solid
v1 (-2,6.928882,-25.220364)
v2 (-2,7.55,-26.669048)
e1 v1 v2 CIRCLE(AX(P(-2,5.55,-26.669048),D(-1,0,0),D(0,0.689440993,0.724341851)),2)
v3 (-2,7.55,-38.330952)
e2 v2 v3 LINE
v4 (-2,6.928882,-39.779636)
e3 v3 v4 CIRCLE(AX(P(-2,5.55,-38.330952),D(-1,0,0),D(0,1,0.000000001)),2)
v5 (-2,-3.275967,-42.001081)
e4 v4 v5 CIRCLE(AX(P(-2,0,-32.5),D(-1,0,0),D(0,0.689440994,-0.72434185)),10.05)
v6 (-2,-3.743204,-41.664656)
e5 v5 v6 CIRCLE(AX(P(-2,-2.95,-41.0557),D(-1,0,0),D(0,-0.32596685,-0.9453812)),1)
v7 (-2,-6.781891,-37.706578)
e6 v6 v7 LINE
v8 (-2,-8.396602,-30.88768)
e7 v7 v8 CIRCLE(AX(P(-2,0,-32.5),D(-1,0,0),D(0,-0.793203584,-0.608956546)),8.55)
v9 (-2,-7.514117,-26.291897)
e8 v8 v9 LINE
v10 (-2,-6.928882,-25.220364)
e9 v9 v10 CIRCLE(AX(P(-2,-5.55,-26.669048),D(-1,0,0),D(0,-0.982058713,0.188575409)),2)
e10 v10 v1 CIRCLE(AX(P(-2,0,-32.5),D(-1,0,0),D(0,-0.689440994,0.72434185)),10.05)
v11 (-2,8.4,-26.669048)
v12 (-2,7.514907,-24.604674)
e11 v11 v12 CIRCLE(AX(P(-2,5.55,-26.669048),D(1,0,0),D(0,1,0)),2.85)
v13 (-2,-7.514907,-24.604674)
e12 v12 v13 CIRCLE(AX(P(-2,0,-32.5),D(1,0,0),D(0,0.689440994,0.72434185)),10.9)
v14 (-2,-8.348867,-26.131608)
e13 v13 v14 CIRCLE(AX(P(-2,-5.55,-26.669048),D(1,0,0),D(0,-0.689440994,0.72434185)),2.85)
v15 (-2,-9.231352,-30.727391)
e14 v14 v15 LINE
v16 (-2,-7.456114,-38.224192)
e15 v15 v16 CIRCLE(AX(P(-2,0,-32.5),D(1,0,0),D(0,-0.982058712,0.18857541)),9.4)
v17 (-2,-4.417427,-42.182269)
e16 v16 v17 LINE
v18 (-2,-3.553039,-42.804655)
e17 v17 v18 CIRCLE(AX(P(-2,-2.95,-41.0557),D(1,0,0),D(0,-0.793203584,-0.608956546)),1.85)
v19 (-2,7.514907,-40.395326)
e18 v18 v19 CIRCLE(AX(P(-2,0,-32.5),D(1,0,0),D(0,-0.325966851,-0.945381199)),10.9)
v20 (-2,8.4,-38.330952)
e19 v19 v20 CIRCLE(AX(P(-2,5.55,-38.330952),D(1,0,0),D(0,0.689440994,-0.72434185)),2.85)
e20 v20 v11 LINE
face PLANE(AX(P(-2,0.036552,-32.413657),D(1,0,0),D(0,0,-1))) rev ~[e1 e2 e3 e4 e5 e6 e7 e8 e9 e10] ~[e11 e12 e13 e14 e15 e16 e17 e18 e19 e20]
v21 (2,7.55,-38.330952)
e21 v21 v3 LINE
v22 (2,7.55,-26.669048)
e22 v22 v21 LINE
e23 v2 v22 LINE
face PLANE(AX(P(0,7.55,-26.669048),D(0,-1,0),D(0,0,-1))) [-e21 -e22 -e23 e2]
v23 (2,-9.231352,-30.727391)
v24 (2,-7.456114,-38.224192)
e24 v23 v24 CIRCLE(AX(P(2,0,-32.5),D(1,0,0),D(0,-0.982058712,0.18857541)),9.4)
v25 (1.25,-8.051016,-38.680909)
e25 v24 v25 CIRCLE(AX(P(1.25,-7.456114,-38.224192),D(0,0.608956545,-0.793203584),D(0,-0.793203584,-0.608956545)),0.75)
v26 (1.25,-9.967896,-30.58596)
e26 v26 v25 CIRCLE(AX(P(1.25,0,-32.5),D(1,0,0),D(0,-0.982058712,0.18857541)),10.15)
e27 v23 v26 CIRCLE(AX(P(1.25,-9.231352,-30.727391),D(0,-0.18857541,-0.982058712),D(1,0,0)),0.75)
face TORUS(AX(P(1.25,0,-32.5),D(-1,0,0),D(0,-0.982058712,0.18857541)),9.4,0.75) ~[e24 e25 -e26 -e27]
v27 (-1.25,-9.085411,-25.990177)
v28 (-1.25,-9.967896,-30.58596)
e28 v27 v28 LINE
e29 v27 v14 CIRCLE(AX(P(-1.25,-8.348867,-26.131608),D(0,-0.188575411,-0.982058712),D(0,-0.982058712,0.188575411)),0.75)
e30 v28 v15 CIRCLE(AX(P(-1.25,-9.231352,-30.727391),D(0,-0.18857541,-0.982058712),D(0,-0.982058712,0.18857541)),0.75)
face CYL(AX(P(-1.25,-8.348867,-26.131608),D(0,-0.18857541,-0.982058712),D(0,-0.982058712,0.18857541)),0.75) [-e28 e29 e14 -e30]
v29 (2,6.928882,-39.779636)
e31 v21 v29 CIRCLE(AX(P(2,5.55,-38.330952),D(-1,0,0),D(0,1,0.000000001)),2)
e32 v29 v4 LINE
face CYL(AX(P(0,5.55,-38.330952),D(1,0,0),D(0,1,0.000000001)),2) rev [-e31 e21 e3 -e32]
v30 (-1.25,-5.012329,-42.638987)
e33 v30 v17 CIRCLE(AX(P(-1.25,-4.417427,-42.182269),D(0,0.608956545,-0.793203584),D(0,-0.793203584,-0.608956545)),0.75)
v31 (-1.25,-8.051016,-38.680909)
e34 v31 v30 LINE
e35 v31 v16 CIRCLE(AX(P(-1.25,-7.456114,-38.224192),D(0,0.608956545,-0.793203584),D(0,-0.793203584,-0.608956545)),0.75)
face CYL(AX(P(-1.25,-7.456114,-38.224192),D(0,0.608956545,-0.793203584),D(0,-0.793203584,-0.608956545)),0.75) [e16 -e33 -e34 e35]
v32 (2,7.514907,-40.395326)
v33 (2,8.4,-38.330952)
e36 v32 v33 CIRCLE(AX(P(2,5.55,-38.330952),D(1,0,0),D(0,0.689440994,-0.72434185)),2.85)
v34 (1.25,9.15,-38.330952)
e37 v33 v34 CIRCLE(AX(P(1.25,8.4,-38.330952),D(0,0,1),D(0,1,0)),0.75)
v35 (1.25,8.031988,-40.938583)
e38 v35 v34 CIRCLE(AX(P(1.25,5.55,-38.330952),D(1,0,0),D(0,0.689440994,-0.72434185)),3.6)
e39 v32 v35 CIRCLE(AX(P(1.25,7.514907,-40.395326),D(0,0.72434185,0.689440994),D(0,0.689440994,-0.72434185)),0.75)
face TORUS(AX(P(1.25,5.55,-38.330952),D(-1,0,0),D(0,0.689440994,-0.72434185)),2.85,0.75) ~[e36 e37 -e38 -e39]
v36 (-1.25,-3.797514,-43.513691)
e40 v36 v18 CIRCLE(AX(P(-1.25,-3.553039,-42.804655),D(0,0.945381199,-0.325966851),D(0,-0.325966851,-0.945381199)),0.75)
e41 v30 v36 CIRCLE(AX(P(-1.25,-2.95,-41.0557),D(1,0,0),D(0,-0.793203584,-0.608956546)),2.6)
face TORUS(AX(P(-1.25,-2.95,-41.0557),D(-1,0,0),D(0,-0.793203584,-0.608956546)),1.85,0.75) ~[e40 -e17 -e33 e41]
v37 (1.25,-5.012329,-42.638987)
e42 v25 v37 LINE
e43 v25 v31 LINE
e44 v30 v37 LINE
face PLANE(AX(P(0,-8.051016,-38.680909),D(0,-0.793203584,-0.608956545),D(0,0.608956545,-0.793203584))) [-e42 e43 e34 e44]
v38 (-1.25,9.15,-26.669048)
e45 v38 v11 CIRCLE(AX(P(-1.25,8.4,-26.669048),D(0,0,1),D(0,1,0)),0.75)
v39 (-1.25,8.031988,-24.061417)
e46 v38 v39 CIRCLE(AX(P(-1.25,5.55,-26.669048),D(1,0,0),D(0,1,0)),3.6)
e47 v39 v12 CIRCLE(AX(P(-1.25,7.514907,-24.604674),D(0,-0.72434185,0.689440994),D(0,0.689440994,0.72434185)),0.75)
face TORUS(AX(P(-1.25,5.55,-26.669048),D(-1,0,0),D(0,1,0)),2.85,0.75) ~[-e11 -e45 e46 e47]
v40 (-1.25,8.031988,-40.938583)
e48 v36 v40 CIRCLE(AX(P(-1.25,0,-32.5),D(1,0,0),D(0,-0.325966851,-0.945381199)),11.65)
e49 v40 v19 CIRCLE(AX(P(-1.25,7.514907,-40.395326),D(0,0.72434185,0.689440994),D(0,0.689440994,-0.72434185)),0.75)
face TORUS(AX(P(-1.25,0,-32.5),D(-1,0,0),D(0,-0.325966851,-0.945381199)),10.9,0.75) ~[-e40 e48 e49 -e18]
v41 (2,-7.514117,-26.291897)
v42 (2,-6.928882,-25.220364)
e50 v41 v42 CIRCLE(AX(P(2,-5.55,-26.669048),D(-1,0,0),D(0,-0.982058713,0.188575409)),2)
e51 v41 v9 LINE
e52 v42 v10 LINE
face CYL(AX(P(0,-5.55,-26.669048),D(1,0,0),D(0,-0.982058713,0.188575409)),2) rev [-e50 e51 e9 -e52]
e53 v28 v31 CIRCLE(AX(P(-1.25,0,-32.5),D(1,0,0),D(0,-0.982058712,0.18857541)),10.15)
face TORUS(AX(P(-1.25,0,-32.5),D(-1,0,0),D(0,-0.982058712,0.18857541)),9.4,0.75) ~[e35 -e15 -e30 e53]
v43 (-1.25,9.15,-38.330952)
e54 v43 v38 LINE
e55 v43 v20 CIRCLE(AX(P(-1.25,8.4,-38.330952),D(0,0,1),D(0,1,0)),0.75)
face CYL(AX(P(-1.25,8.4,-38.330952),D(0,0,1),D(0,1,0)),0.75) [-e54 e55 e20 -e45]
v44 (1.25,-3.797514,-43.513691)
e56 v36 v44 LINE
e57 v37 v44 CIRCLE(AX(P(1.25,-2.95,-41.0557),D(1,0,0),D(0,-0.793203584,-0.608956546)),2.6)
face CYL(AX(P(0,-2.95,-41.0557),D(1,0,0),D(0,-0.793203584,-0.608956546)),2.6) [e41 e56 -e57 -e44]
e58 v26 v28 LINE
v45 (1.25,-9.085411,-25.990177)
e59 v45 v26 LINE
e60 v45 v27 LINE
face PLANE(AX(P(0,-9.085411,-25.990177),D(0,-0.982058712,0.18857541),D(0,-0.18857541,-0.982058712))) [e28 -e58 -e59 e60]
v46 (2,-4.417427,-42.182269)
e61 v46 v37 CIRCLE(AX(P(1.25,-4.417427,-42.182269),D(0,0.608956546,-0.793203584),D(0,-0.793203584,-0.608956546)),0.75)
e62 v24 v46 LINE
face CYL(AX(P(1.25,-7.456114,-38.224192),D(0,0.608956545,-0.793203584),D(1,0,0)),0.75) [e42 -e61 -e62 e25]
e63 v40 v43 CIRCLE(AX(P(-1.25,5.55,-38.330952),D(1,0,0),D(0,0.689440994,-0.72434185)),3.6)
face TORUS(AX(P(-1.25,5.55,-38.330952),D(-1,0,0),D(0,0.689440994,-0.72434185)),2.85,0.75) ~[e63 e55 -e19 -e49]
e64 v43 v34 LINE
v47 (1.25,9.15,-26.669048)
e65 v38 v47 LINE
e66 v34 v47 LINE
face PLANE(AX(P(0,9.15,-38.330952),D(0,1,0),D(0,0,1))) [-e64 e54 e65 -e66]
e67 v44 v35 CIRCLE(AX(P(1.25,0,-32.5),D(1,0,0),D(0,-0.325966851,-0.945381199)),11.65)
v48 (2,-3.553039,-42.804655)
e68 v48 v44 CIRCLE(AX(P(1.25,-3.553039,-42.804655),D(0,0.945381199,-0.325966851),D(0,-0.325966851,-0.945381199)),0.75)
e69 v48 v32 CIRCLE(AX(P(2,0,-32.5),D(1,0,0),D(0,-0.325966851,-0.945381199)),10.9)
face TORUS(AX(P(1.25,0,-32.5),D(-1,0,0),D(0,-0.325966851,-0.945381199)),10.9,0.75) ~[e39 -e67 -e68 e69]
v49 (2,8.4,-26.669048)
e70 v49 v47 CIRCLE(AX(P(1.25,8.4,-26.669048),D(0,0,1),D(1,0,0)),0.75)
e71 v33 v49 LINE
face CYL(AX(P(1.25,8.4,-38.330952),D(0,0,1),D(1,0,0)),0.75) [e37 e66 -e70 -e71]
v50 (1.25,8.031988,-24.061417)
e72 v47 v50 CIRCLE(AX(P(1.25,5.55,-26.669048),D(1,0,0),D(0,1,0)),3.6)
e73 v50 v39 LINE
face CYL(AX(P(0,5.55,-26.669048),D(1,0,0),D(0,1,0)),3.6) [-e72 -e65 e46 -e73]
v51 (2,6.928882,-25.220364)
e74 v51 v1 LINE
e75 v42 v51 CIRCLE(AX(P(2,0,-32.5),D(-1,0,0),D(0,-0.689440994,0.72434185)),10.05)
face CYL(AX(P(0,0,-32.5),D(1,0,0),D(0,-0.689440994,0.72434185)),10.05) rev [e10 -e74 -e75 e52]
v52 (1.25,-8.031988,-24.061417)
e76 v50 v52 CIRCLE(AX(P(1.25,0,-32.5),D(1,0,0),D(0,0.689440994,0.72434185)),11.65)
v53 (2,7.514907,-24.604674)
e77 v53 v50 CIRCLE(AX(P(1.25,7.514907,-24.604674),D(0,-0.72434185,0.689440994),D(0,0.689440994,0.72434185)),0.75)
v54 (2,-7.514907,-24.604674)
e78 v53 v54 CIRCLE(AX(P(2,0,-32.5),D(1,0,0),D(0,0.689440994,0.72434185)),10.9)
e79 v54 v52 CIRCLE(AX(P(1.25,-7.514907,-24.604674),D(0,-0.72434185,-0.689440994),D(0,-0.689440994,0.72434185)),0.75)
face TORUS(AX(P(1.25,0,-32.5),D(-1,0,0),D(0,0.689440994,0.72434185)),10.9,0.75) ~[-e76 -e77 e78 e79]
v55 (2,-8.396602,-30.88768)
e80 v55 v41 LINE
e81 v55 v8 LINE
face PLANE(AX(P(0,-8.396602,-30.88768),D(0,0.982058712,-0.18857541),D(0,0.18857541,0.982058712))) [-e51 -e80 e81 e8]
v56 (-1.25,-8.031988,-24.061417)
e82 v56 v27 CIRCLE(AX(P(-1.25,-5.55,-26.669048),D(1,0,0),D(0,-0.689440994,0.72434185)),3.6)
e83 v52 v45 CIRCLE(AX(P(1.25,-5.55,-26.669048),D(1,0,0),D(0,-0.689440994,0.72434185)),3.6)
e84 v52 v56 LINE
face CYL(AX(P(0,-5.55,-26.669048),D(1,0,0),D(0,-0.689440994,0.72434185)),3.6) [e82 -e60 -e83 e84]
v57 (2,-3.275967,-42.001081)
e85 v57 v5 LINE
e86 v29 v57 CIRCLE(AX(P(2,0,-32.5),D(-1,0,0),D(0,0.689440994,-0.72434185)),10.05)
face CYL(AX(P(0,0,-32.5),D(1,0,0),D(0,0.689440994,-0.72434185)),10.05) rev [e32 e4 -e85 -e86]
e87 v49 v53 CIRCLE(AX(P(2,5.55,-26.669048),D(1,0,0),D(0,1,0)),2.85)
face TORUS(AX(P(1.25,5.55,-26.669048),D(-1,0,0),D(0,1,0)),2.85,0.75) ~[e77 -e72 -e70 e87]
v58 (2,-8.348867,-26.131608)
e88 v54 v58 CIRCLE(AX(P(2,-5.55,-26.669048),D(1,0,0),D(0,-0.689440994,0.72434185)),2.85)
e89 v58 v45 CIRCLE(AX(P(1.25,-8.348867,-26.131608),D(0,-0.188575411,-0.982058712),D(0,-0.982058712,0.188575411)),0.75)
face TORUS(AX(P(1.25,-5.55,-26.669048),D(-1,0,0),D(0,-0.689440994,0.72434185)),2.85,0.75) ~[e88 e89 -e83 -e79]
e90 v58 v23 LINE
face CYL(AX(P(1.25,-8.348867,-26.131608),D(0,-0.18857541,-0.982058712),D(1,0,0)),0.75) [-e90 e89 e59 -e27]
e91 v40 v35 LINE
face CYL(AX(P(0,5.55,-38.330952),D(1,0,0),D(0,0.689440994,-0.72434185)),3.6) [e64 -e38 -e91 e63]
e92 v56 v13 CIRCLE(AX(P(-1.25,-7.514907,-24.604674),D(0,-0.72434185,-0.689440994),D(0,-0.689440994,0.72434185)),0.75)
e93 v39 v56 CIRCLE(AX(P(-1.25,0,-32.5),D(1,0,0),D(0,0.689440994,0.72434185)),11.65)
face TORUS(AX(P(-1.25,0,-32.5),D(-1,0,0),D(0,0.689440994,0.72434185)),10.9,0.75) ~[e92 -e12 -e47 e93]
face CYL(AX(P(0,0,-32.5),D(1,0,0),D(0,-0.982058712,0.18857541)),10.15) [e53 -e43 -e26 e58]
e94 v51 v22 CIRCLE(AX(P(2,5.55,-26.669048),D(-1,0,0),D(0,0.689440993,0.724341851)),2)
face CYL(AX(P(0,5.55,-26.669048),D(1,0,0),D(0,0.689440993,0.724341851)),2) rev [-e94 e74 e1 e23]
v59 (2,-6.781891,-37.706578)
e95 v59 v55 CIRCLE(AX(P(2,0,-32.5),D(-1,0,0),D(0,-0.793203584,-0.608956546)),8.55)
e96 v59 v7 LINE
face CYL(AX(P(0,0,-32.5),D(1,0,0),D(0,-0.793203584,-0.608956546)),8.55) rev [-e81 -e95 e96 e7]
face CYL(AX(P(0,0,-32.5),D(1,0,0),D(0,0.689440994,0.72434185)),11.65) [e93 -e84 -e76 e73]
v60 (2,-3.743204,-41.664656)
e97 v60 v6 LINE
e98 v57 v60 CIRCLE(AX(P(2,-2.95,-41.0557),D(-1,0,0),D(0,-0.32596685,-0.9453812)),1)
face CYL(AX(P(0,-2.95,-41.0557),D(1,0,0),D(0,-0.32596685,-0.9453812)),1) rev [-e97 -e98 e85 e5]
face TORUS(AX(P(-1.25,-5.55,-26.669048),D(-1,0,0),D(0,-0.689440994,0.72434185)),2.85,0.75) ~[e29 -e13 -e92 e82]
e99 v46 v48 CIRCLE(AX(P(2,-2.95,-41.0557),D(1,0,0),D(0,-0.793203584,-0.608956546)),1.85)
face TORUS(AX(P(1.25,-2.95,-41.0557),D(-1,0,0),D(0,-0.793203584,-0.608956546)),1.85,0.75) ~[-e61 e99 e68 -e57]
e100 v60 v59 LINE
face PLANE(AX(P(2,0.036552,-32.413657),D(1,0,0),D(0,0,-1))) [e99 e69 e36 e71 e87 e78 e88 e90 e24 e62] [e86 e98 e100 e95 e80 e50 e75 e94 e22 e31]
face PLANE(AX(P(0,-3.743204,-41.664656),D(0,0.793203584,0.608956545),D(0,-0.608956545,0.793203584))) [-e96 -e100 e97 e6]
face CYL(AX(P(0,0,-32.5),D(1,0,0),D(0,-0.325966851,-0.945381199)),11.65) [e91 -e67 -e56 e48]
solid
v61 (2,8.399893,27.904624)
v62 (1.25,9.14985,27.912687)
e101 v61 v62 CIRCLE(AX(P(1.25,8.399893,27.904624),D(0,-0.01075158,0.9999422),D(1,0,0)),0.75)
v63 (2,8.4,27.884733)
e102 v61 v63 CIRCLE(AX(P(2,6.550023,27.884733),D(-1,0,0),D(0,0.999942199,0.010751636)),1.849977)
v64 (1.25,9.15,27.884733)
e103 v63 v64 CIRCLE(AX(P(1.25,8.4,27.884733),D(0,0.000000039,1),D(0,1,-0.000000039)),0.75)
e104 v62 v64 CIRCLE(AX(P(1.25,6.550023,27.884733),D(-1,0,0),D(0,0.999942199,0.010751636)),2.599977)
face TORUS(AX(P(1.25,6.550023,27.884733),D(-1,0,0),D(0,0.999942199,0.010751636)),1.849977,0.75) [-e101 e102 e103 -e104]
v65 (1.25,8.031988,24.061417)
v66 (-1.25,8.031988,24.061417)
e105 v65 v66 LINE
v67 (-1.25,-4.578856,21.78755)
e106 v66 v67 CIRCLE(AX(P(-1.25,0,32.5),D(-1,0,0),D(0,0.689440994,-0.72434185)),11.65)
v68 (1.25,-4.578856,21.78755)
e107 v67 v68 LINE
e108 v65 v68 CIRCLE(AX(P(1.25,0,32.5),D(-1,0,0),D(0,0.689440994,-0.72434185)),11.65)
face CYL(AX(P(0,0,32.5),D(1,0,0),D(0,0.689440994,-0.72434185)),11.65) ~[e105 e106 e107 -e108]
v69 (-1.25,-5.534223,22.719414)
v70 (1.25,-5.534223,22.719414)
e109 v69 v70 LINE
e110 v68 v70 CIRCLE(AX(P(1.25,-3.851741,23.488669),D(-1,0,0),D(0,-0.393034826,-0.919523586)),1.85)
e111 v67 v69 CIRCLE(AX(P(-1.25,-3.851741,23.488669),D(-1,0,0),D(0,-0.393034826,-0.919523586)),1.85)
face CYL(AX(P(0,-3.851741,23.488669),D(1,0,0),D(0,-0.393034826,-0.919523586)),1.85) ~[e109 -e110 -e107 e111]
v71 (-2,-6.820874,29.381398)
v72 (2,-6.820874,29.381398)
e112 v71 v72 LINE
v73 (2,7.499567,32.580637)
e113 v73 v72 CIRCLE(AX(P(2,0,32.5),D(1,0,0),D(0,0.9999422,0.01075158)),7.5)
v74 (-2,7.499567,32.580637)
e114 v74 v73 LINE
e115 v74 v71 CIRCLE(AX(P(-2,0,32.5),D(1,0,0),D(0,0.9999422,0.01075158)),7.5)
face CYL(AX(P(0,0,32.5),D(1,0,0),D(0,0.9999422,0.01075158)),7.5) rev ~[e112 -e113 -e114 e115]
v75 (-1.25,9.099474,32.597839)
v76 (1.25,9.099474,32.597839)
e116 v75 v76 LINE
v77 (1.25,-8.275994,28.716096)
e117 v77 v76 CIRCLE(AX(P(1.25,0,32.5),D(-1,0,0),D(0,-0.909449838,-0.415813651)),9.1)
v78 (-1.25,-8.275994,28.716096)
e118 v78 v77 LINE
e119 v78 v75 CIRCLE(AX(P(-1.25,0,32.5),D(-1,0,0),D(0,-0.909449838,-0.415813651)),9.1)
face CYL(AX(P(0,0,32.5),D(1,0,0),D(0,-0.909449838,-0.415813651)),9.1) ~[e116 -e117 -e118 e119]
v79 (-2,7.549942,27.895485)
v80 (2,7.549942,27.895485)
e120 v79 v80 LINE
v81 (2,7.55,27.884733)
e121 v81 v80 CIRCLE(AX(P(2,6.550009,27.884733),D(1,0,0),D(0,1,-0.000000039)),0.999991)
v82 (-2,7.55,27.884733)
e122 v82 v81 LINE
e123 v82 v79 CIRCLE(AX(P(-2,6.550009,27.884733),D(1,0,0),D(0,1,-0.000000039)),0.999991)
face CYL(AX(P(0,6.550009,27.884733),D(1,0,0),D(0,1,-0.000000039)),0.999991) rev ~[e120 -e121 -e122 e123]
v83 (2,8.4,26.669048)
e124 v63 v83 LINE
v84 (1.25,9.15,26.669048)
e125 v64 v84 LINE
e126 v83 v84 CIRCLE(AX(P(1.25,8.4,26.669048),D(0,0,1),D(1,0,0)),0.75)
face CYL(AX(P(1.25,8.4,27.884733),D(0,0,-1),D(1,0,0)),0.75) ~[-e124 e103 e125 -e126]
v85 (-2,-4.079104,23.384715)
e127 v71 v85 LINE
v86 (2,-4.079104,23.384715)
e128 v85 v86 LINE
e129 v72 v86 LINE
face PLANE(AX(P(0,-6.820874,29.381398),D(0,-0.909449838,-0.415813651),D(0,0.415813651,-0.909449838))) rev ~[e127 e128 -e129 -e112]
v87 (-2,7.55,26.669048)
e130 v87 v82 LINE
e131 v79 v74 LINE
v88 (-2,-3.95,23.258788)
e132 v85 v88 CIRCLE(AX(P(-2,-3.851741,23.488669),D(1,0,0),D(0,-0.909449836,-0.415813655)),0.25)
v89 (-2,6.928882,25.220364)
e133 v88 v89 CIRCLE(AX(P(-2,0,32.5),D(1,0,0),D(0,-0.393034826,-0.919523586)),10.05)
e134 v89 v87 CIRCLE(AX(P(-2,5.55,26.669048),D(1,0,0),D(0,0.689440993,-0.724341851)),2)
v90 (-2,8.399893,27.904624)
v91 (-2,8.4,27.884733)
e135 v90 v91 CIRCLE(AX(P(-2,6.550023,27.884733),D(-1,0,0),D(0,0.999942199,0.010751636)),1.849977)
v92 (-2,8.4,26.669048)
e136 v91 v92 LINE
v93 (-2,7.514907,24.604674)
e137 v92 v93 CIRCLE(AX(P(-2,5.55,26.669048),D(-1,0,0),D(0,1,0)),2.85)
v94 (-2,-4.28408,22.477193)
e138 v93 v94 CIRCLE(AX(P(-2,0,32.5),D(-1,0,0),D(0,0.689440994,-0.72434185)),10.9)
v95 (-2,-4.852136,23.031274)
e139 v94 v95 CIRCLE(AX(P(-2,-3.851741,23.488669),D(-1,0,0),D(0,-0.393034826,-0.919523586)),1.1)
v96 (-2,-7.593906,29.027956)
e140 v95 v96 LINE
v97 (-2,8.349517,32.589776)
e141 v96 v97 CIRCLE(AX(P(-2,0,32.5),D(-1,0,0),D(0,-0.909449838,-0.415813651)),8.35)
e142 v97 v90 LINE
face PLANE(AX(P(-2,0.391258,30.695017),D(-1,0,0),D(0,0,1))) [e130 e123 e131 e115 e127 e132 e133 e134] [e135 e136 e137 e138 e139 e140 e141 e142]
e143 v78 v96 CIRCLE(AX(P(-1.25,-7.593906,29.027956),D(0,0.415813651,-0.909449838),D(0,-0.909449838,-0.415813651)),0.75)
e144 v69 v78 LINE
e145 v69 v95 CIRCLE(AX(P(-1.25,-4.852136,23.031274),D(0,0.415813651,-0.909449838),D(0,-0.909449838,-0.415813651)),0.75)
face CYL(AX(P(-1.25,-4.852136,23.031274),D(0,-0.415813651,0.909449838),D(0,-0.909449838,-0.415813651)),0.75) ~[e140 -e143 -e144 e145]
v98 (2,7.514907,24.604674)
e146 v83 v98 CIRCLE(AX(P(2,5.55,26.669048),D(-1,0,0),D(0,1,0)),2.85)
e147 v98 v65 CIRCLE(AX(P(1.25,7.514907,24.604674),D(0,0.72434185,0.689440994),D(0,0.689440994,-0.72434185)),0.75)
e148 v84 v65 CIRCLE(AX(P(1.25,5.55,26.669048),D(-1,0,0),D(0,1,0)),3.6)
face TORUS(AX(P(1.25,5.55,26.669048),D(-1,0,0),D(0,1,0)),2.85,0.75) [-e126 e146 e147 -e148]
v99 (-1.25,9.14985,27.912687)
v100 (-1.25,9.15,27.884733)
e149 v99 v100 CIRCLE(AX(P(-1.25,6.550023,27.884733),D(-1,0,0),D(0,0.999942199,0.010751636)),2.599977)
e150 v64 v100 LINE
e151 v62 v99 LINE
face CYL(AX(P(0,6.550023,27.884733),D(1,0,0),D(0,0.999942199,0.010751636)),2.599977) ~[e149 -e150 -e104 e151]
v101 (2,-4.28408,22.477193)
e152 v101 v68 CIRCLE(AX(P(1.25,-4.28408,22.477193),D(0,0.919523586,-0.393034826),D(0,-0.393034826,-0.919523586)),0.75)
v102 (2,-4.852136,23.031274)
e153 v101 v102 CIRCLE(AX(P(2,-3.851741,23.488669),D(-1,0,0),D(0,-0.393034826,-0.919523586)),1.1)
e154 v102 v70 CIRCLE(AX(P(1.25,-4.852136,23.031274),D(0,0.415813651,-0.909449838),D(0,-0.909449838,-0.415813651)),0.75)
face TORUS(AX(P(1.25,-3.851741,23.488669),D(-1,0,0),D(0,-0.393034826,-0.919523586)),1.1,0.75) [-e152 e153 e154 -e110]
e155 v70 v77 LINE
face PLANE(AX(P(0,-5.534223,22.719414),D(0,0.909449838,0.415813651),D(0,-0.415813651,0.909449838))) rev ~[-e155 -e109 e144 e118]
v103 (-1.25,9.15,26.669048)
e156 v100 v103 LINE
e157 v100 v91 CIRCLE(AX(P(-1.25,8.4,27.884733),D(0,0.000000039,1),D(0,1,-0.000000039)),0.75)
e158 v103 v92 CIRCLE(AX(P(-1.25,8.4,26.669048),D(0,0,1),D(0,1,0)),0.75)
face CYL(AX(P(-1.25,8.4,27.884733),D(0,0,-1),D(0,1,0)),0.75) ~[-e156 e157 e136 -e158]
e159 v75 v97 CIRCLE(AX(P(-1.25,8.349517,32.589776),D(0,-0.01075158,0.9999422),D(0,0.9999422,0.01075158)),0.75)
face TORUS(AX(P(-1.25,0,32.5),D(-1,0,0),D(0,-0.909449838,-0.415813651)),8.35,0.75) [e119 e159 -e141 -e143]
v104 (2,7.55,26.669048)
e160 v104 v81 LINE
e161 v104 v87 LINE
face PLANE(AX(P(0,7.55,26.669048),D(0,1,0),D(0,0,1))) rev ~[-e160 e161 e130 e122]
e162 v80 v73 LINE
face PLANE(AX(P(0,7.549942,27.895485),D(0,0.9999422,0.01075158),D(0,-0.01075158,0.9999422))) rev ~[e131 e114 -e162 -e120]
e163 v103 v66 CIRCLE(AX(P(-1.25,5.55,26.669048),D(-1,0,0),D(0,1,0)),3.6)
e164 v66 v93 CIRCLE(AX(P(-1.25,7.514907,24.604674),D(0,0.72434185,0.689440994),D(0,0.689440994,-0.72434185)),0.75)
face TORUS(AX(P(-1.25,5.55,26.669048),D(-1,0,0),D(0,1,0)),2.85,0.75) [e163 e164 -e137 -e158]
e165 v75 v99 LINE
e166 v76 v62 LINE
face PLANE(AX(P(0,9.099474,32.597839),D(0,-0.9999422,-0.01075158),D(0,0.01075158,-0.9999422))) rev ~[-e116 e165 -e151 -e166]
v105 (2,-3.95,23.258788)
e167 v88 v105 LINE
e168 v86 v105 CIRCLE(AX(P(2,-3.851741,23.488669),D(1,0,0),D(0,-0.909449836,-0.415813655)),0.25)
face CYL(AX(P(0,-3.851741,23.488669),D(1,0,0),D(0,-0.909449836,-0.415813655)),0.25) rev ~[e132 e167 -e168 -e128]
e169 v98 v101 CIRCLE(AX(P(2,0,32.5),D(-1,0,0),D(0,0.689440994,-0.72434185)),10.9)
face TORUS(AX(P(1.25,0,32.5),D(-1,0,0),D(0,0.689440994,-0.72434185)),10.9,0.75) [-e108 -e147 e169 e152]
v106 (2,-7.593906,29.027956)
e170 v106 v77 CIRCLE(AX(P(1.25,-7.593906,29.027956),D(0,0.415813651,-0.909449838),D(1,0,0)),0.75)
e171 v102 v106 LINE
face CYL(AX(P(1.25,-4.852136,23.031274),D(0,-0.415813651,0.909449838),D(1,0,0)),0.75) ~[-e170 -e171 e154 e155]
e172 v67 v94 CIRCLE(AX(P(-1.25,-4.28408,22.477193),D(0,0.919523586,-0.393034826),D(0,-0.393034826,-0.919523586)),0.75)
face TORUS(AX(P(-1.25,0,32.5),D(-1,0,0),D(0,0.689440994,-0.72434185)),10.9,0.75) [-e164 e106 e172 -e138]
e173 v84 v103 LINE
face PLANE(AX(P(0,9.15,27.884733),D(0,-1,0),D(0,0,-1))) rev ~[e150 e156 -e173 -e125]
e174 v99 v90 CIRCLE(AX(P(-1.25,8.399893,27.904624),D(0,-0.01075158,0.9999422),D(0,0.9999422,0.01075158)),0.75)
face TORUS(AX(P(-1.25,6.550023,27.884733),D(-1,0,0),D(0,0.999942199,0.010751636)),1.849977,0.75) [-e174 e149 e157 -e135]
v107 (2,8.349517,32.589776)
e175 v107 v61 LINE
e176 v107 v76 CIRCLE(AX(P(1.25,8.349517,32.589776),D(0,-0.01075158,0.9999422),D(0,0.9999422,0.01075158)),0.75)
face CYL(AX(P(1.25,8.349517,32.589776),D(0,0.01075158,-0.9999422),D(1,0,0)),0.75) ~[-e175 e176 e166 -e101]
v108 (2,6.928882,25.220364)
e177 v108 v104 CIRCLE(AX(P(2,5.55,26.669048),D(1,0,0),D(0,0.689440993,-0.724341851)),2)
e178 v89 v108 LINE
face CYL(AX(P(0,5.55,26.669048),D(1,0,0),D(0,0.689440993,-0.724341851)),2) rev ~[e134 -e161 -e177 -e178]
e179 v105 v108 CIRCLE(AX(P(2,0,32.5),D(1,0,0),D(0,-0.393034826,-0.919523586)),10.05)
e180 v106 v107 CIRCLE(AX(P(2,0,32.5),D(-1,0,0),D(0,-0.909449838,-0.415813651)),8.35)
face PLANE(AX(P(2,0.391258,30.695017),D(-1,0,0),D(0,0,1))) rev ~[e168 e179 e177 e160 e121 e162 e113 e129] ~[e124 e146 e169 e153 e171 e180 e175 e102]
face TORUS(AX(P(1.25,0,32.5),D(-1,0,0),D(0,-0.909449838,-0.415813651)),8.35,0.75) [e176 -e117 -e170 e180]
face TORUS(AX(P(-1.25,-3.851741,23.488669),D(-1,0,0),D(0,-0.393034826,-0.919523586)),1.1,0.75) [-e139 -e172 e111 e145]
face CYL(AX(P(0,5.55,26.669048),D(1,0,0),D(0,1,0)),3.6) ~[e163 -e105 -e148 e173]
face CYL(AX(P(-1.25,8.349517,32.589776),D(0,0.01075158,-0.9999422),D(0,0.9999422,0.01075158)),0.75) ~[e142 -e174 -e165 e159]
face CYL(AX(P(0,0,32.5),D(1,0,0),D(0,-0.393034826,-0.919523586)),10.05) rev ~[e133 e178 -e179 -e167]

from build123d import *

# Parameters (mm, degrees)
BOSS_EXTRUDE1_DEPTH   = 2
BOSS_EXTRUDE1_2_DEPTH = 2
FILLET1_R             = 0.75
FILLET2_R             = 0.75


with BuildPart() as part:
    # Sketch2 → Boss-Extrude1 (new, symmetric)
    with BuildSketch(Plane(origin=(0, 0, 0), x_dir=(0, 0, -1), z_dir=(1, 0, 0))):
        with BuildLine():
            Line((38.680908936, -8.051016378), (42.638986873, -5.012329319))
            ThreePointArc((42.638986873, -5.012329319), (43.165658722, -4.469234537), (43.513690973, -3.797513812))
            ThreePointArc((43.513690973, -3.797513812), (43.883409513, 2.478000778), (40.938582556, 8.031987578))
            ThreePointArc((40.938582556, 8.031987578), (39.749550626, 8.858712384), (38.330951895, 9.15))
            Line((38.330951895, 9.15), (26.669048105, 9.15))
            ThreePointArc((26.669048105, 9.15), (25.250449374, 8.858712384), (24.061417444, 8.031987578))
            ThreePointArc((24.061417444, 8.031987578), (20.85, 0), (24.061417444, -8.031987578))
            ThreePointArc((24.061417444, -8.031987578), (24.943446907, -8.709477885), (25.990176628, -9.085411365))
            Line((25.990176628, -9.085411365), (30.585959585, -9.967895931))
            ThreePointArc((30.585959585, -9.967895931), (34.83883487, -9.876859392), (38.680908936, -8.051016378))
        make_face()
        with BuildLine():
            Line((26.669048105, 7.55), (38.330951895, 7.55))
            ThreePointArc((38.330951895, 7.55), (39.119062301, 7.388173547), (39.779635595, 6.928881988))
            ThreePointArc((39.779635595, 6.928881988), (42.320022799, 2.137674491), (42.001081054, -3.275966851))
            ThreePointArc((42.001081054, -3.275966851), (41.867222496, -3.534320976), (41.6646564, -3.743203584))
            Line((41.6646564, -3.743203584), (37.706578463, -6.781890644))
            ThreePointArc((37.706578463, -6.781890644), (34.470151541, -8.31991604), (30.887680242, -8.396601991))
            Line((30.887680242, -8.396601991), (26.291897285, -7.514117425))
            ThreePointArc((26.291897285, -7.514117425), (25.710380773, -7.305265492), (25.220364405, -6.928881988))
            ThreePointArc((25.220364405, -6.928881988), (22.45, 0), (25.220364405, 6.928881988))
            ThreePointArc((25.220364405, 6.928881988), (25.880937699, 7.388173547), (26.669048105, 7.55))
        make_face(mode=Mode.SUBTRACT)
    extrude(amount=BOSS_EXTRUDE1_DEPTH, both=True)

    # Fillet1
    fillet1_edges = [part.edges().sort_by_distance(p)[0] for p in [
        (2, -4.469234537, -43.165658722),
        (-2, 0, -20.85),
        (-2, 8.858712384, -25.250449374),
        (-2, 9.15, -32.5),
        (-2, 8.858712384, -39.749550626),
        (-2, 2.478000778, -43.883409513),
        (-2, -4.469234537, -43.165658722),
        (-2, -6.531672849, -40.659947904),
        (-2, -9.876859392, -34.83883487),
        (2, 2.478000778, -43.883409513),
        (2, 8.858712384, -39.749550626),
        (2, 9.15, -32.5),
        (2, 8.858712384, -25.250449374),
        (2, 0, -20.85),
        (2, -8.709477885, -24.943446907),
        (2, -9.526653648, -28.288068107),
        (2, -9.876859392, -34.83883487),
        (2, -6.531672849, -40.659947904),
        (-2, -9.526653648, -28.288068107),
        (-2, -8.709477885, -24.943446907),
    ]]
    fillet(fillet1_edges, radius=FILLET1_R)


with BuildPart() as body_2:
    # Sketch2 → Boss-Extrude1 2 (new, symmetric)
    with BuildSketch(Plane(origin=(0, 0, 0), x_dir=(0, 0, -1), z_dir=(1, 0, 0))):
        with BuildLine():
            Line((-32.597839378, 9.099474021), (-27.91268728, 9.14984972))
            ThreePointArc((-27.91268728, 9.14984972), (-27.898710428, 9.14996243), (-27.884733172, 9.15))
            Line((-27.884733172, 9.15), (-26.669048105, 9.15))
            ThreePointArc((-26.669048105, 9.15), (-25.250449374, 8.858712384), (-24.061417444, 8.031987578))
            ThreePointArc((-24.061417444, 8.031987578), (-21.034885432, 2.067280325), (-21.78755022, -4.578855721))
            ThreePointArc((-21.78755022, -4.578855721), (-22.164331782, -5.143496424), (-22.7194136, -5.534223493))
            Line((-22.7194136, -5.534223493), (-28.716095774, -8.275993524))
            ThreePointArc((-28.716095774, -8.275993524), (-41.381074632, -1.984064864), (-32.597839378, 9.099474021))
        make_face()
        with BuildLine():
            Line((-26.669048105, 7.55), (-27.884733172, 7.55))
            ThreePointArc((-27.884733172, 7.55), (-27.89010904, 7.54998555), (-27.895484752, 7.5499422))
            Line((-27.895484752, 7.5499422), (-32.58063685, 7.499566501))
            ThreePointArc((-32.58063685, 7.499566501), (-39.819567004, -1.635218294), (-29.381397616, -6.820873784))
            Line((-29.381397616, -6.820873784), (-23.384715442, -4.079103753))
            ThreePointArc((-23.384715442, -4.079103753), (-23.309704386, -4.026302798), (-23.258787958, -3.95))
            ThreePointArc((-23.258787958, -3.95), (-22.609493441, 1.783361997), (-25.220364405, 6.928881988))
            ThreePointArc((-25.220364405, 6.928881988), (-25.880937699, 7.388173547), (-26.669048105, 7.55))
        make_face(mode=Mode.SUBTRACT)
    extrude(amount=BOSS_EXTRUDE1_2_DEPTH, both=True)

    # Fillet2
    fillet2_edges = [body_2.edges().sort_by_distance(p)[0] for p in [
        (2, -5.143496424, 22.164331782),
        (-2, -6.905108509, 25.717754687),
        (-2, -1.984064864, 41.381074632),
        (2, 2.067280325, 21.034885432),
        (2, 8.858712384, 25.250449374),
        (2, 9.15, 27.276890639),
        (2, 9.14996243, 27.898710428),
        (2, 9.124661871, 30.255263329),
        (2, -1.984064864, 41.381074632),
        (2, -6.905108509, 25.717754687),
        (-2, 9.124661871, 30.255263329),
        (-2, 9.14996243, 27.898710428),
        (-2, 9.15, 27.276890639),
        (-2, 8.858712384, 25.250449374),
        (-2, 2.067280325, 21.034885432),
        (-2, -5.143496424, 22.164331782),
    ]]
    fillet(fillet2_edges, radius=FILLET2_R)


solid = Compound([part.part, body_2.part])
